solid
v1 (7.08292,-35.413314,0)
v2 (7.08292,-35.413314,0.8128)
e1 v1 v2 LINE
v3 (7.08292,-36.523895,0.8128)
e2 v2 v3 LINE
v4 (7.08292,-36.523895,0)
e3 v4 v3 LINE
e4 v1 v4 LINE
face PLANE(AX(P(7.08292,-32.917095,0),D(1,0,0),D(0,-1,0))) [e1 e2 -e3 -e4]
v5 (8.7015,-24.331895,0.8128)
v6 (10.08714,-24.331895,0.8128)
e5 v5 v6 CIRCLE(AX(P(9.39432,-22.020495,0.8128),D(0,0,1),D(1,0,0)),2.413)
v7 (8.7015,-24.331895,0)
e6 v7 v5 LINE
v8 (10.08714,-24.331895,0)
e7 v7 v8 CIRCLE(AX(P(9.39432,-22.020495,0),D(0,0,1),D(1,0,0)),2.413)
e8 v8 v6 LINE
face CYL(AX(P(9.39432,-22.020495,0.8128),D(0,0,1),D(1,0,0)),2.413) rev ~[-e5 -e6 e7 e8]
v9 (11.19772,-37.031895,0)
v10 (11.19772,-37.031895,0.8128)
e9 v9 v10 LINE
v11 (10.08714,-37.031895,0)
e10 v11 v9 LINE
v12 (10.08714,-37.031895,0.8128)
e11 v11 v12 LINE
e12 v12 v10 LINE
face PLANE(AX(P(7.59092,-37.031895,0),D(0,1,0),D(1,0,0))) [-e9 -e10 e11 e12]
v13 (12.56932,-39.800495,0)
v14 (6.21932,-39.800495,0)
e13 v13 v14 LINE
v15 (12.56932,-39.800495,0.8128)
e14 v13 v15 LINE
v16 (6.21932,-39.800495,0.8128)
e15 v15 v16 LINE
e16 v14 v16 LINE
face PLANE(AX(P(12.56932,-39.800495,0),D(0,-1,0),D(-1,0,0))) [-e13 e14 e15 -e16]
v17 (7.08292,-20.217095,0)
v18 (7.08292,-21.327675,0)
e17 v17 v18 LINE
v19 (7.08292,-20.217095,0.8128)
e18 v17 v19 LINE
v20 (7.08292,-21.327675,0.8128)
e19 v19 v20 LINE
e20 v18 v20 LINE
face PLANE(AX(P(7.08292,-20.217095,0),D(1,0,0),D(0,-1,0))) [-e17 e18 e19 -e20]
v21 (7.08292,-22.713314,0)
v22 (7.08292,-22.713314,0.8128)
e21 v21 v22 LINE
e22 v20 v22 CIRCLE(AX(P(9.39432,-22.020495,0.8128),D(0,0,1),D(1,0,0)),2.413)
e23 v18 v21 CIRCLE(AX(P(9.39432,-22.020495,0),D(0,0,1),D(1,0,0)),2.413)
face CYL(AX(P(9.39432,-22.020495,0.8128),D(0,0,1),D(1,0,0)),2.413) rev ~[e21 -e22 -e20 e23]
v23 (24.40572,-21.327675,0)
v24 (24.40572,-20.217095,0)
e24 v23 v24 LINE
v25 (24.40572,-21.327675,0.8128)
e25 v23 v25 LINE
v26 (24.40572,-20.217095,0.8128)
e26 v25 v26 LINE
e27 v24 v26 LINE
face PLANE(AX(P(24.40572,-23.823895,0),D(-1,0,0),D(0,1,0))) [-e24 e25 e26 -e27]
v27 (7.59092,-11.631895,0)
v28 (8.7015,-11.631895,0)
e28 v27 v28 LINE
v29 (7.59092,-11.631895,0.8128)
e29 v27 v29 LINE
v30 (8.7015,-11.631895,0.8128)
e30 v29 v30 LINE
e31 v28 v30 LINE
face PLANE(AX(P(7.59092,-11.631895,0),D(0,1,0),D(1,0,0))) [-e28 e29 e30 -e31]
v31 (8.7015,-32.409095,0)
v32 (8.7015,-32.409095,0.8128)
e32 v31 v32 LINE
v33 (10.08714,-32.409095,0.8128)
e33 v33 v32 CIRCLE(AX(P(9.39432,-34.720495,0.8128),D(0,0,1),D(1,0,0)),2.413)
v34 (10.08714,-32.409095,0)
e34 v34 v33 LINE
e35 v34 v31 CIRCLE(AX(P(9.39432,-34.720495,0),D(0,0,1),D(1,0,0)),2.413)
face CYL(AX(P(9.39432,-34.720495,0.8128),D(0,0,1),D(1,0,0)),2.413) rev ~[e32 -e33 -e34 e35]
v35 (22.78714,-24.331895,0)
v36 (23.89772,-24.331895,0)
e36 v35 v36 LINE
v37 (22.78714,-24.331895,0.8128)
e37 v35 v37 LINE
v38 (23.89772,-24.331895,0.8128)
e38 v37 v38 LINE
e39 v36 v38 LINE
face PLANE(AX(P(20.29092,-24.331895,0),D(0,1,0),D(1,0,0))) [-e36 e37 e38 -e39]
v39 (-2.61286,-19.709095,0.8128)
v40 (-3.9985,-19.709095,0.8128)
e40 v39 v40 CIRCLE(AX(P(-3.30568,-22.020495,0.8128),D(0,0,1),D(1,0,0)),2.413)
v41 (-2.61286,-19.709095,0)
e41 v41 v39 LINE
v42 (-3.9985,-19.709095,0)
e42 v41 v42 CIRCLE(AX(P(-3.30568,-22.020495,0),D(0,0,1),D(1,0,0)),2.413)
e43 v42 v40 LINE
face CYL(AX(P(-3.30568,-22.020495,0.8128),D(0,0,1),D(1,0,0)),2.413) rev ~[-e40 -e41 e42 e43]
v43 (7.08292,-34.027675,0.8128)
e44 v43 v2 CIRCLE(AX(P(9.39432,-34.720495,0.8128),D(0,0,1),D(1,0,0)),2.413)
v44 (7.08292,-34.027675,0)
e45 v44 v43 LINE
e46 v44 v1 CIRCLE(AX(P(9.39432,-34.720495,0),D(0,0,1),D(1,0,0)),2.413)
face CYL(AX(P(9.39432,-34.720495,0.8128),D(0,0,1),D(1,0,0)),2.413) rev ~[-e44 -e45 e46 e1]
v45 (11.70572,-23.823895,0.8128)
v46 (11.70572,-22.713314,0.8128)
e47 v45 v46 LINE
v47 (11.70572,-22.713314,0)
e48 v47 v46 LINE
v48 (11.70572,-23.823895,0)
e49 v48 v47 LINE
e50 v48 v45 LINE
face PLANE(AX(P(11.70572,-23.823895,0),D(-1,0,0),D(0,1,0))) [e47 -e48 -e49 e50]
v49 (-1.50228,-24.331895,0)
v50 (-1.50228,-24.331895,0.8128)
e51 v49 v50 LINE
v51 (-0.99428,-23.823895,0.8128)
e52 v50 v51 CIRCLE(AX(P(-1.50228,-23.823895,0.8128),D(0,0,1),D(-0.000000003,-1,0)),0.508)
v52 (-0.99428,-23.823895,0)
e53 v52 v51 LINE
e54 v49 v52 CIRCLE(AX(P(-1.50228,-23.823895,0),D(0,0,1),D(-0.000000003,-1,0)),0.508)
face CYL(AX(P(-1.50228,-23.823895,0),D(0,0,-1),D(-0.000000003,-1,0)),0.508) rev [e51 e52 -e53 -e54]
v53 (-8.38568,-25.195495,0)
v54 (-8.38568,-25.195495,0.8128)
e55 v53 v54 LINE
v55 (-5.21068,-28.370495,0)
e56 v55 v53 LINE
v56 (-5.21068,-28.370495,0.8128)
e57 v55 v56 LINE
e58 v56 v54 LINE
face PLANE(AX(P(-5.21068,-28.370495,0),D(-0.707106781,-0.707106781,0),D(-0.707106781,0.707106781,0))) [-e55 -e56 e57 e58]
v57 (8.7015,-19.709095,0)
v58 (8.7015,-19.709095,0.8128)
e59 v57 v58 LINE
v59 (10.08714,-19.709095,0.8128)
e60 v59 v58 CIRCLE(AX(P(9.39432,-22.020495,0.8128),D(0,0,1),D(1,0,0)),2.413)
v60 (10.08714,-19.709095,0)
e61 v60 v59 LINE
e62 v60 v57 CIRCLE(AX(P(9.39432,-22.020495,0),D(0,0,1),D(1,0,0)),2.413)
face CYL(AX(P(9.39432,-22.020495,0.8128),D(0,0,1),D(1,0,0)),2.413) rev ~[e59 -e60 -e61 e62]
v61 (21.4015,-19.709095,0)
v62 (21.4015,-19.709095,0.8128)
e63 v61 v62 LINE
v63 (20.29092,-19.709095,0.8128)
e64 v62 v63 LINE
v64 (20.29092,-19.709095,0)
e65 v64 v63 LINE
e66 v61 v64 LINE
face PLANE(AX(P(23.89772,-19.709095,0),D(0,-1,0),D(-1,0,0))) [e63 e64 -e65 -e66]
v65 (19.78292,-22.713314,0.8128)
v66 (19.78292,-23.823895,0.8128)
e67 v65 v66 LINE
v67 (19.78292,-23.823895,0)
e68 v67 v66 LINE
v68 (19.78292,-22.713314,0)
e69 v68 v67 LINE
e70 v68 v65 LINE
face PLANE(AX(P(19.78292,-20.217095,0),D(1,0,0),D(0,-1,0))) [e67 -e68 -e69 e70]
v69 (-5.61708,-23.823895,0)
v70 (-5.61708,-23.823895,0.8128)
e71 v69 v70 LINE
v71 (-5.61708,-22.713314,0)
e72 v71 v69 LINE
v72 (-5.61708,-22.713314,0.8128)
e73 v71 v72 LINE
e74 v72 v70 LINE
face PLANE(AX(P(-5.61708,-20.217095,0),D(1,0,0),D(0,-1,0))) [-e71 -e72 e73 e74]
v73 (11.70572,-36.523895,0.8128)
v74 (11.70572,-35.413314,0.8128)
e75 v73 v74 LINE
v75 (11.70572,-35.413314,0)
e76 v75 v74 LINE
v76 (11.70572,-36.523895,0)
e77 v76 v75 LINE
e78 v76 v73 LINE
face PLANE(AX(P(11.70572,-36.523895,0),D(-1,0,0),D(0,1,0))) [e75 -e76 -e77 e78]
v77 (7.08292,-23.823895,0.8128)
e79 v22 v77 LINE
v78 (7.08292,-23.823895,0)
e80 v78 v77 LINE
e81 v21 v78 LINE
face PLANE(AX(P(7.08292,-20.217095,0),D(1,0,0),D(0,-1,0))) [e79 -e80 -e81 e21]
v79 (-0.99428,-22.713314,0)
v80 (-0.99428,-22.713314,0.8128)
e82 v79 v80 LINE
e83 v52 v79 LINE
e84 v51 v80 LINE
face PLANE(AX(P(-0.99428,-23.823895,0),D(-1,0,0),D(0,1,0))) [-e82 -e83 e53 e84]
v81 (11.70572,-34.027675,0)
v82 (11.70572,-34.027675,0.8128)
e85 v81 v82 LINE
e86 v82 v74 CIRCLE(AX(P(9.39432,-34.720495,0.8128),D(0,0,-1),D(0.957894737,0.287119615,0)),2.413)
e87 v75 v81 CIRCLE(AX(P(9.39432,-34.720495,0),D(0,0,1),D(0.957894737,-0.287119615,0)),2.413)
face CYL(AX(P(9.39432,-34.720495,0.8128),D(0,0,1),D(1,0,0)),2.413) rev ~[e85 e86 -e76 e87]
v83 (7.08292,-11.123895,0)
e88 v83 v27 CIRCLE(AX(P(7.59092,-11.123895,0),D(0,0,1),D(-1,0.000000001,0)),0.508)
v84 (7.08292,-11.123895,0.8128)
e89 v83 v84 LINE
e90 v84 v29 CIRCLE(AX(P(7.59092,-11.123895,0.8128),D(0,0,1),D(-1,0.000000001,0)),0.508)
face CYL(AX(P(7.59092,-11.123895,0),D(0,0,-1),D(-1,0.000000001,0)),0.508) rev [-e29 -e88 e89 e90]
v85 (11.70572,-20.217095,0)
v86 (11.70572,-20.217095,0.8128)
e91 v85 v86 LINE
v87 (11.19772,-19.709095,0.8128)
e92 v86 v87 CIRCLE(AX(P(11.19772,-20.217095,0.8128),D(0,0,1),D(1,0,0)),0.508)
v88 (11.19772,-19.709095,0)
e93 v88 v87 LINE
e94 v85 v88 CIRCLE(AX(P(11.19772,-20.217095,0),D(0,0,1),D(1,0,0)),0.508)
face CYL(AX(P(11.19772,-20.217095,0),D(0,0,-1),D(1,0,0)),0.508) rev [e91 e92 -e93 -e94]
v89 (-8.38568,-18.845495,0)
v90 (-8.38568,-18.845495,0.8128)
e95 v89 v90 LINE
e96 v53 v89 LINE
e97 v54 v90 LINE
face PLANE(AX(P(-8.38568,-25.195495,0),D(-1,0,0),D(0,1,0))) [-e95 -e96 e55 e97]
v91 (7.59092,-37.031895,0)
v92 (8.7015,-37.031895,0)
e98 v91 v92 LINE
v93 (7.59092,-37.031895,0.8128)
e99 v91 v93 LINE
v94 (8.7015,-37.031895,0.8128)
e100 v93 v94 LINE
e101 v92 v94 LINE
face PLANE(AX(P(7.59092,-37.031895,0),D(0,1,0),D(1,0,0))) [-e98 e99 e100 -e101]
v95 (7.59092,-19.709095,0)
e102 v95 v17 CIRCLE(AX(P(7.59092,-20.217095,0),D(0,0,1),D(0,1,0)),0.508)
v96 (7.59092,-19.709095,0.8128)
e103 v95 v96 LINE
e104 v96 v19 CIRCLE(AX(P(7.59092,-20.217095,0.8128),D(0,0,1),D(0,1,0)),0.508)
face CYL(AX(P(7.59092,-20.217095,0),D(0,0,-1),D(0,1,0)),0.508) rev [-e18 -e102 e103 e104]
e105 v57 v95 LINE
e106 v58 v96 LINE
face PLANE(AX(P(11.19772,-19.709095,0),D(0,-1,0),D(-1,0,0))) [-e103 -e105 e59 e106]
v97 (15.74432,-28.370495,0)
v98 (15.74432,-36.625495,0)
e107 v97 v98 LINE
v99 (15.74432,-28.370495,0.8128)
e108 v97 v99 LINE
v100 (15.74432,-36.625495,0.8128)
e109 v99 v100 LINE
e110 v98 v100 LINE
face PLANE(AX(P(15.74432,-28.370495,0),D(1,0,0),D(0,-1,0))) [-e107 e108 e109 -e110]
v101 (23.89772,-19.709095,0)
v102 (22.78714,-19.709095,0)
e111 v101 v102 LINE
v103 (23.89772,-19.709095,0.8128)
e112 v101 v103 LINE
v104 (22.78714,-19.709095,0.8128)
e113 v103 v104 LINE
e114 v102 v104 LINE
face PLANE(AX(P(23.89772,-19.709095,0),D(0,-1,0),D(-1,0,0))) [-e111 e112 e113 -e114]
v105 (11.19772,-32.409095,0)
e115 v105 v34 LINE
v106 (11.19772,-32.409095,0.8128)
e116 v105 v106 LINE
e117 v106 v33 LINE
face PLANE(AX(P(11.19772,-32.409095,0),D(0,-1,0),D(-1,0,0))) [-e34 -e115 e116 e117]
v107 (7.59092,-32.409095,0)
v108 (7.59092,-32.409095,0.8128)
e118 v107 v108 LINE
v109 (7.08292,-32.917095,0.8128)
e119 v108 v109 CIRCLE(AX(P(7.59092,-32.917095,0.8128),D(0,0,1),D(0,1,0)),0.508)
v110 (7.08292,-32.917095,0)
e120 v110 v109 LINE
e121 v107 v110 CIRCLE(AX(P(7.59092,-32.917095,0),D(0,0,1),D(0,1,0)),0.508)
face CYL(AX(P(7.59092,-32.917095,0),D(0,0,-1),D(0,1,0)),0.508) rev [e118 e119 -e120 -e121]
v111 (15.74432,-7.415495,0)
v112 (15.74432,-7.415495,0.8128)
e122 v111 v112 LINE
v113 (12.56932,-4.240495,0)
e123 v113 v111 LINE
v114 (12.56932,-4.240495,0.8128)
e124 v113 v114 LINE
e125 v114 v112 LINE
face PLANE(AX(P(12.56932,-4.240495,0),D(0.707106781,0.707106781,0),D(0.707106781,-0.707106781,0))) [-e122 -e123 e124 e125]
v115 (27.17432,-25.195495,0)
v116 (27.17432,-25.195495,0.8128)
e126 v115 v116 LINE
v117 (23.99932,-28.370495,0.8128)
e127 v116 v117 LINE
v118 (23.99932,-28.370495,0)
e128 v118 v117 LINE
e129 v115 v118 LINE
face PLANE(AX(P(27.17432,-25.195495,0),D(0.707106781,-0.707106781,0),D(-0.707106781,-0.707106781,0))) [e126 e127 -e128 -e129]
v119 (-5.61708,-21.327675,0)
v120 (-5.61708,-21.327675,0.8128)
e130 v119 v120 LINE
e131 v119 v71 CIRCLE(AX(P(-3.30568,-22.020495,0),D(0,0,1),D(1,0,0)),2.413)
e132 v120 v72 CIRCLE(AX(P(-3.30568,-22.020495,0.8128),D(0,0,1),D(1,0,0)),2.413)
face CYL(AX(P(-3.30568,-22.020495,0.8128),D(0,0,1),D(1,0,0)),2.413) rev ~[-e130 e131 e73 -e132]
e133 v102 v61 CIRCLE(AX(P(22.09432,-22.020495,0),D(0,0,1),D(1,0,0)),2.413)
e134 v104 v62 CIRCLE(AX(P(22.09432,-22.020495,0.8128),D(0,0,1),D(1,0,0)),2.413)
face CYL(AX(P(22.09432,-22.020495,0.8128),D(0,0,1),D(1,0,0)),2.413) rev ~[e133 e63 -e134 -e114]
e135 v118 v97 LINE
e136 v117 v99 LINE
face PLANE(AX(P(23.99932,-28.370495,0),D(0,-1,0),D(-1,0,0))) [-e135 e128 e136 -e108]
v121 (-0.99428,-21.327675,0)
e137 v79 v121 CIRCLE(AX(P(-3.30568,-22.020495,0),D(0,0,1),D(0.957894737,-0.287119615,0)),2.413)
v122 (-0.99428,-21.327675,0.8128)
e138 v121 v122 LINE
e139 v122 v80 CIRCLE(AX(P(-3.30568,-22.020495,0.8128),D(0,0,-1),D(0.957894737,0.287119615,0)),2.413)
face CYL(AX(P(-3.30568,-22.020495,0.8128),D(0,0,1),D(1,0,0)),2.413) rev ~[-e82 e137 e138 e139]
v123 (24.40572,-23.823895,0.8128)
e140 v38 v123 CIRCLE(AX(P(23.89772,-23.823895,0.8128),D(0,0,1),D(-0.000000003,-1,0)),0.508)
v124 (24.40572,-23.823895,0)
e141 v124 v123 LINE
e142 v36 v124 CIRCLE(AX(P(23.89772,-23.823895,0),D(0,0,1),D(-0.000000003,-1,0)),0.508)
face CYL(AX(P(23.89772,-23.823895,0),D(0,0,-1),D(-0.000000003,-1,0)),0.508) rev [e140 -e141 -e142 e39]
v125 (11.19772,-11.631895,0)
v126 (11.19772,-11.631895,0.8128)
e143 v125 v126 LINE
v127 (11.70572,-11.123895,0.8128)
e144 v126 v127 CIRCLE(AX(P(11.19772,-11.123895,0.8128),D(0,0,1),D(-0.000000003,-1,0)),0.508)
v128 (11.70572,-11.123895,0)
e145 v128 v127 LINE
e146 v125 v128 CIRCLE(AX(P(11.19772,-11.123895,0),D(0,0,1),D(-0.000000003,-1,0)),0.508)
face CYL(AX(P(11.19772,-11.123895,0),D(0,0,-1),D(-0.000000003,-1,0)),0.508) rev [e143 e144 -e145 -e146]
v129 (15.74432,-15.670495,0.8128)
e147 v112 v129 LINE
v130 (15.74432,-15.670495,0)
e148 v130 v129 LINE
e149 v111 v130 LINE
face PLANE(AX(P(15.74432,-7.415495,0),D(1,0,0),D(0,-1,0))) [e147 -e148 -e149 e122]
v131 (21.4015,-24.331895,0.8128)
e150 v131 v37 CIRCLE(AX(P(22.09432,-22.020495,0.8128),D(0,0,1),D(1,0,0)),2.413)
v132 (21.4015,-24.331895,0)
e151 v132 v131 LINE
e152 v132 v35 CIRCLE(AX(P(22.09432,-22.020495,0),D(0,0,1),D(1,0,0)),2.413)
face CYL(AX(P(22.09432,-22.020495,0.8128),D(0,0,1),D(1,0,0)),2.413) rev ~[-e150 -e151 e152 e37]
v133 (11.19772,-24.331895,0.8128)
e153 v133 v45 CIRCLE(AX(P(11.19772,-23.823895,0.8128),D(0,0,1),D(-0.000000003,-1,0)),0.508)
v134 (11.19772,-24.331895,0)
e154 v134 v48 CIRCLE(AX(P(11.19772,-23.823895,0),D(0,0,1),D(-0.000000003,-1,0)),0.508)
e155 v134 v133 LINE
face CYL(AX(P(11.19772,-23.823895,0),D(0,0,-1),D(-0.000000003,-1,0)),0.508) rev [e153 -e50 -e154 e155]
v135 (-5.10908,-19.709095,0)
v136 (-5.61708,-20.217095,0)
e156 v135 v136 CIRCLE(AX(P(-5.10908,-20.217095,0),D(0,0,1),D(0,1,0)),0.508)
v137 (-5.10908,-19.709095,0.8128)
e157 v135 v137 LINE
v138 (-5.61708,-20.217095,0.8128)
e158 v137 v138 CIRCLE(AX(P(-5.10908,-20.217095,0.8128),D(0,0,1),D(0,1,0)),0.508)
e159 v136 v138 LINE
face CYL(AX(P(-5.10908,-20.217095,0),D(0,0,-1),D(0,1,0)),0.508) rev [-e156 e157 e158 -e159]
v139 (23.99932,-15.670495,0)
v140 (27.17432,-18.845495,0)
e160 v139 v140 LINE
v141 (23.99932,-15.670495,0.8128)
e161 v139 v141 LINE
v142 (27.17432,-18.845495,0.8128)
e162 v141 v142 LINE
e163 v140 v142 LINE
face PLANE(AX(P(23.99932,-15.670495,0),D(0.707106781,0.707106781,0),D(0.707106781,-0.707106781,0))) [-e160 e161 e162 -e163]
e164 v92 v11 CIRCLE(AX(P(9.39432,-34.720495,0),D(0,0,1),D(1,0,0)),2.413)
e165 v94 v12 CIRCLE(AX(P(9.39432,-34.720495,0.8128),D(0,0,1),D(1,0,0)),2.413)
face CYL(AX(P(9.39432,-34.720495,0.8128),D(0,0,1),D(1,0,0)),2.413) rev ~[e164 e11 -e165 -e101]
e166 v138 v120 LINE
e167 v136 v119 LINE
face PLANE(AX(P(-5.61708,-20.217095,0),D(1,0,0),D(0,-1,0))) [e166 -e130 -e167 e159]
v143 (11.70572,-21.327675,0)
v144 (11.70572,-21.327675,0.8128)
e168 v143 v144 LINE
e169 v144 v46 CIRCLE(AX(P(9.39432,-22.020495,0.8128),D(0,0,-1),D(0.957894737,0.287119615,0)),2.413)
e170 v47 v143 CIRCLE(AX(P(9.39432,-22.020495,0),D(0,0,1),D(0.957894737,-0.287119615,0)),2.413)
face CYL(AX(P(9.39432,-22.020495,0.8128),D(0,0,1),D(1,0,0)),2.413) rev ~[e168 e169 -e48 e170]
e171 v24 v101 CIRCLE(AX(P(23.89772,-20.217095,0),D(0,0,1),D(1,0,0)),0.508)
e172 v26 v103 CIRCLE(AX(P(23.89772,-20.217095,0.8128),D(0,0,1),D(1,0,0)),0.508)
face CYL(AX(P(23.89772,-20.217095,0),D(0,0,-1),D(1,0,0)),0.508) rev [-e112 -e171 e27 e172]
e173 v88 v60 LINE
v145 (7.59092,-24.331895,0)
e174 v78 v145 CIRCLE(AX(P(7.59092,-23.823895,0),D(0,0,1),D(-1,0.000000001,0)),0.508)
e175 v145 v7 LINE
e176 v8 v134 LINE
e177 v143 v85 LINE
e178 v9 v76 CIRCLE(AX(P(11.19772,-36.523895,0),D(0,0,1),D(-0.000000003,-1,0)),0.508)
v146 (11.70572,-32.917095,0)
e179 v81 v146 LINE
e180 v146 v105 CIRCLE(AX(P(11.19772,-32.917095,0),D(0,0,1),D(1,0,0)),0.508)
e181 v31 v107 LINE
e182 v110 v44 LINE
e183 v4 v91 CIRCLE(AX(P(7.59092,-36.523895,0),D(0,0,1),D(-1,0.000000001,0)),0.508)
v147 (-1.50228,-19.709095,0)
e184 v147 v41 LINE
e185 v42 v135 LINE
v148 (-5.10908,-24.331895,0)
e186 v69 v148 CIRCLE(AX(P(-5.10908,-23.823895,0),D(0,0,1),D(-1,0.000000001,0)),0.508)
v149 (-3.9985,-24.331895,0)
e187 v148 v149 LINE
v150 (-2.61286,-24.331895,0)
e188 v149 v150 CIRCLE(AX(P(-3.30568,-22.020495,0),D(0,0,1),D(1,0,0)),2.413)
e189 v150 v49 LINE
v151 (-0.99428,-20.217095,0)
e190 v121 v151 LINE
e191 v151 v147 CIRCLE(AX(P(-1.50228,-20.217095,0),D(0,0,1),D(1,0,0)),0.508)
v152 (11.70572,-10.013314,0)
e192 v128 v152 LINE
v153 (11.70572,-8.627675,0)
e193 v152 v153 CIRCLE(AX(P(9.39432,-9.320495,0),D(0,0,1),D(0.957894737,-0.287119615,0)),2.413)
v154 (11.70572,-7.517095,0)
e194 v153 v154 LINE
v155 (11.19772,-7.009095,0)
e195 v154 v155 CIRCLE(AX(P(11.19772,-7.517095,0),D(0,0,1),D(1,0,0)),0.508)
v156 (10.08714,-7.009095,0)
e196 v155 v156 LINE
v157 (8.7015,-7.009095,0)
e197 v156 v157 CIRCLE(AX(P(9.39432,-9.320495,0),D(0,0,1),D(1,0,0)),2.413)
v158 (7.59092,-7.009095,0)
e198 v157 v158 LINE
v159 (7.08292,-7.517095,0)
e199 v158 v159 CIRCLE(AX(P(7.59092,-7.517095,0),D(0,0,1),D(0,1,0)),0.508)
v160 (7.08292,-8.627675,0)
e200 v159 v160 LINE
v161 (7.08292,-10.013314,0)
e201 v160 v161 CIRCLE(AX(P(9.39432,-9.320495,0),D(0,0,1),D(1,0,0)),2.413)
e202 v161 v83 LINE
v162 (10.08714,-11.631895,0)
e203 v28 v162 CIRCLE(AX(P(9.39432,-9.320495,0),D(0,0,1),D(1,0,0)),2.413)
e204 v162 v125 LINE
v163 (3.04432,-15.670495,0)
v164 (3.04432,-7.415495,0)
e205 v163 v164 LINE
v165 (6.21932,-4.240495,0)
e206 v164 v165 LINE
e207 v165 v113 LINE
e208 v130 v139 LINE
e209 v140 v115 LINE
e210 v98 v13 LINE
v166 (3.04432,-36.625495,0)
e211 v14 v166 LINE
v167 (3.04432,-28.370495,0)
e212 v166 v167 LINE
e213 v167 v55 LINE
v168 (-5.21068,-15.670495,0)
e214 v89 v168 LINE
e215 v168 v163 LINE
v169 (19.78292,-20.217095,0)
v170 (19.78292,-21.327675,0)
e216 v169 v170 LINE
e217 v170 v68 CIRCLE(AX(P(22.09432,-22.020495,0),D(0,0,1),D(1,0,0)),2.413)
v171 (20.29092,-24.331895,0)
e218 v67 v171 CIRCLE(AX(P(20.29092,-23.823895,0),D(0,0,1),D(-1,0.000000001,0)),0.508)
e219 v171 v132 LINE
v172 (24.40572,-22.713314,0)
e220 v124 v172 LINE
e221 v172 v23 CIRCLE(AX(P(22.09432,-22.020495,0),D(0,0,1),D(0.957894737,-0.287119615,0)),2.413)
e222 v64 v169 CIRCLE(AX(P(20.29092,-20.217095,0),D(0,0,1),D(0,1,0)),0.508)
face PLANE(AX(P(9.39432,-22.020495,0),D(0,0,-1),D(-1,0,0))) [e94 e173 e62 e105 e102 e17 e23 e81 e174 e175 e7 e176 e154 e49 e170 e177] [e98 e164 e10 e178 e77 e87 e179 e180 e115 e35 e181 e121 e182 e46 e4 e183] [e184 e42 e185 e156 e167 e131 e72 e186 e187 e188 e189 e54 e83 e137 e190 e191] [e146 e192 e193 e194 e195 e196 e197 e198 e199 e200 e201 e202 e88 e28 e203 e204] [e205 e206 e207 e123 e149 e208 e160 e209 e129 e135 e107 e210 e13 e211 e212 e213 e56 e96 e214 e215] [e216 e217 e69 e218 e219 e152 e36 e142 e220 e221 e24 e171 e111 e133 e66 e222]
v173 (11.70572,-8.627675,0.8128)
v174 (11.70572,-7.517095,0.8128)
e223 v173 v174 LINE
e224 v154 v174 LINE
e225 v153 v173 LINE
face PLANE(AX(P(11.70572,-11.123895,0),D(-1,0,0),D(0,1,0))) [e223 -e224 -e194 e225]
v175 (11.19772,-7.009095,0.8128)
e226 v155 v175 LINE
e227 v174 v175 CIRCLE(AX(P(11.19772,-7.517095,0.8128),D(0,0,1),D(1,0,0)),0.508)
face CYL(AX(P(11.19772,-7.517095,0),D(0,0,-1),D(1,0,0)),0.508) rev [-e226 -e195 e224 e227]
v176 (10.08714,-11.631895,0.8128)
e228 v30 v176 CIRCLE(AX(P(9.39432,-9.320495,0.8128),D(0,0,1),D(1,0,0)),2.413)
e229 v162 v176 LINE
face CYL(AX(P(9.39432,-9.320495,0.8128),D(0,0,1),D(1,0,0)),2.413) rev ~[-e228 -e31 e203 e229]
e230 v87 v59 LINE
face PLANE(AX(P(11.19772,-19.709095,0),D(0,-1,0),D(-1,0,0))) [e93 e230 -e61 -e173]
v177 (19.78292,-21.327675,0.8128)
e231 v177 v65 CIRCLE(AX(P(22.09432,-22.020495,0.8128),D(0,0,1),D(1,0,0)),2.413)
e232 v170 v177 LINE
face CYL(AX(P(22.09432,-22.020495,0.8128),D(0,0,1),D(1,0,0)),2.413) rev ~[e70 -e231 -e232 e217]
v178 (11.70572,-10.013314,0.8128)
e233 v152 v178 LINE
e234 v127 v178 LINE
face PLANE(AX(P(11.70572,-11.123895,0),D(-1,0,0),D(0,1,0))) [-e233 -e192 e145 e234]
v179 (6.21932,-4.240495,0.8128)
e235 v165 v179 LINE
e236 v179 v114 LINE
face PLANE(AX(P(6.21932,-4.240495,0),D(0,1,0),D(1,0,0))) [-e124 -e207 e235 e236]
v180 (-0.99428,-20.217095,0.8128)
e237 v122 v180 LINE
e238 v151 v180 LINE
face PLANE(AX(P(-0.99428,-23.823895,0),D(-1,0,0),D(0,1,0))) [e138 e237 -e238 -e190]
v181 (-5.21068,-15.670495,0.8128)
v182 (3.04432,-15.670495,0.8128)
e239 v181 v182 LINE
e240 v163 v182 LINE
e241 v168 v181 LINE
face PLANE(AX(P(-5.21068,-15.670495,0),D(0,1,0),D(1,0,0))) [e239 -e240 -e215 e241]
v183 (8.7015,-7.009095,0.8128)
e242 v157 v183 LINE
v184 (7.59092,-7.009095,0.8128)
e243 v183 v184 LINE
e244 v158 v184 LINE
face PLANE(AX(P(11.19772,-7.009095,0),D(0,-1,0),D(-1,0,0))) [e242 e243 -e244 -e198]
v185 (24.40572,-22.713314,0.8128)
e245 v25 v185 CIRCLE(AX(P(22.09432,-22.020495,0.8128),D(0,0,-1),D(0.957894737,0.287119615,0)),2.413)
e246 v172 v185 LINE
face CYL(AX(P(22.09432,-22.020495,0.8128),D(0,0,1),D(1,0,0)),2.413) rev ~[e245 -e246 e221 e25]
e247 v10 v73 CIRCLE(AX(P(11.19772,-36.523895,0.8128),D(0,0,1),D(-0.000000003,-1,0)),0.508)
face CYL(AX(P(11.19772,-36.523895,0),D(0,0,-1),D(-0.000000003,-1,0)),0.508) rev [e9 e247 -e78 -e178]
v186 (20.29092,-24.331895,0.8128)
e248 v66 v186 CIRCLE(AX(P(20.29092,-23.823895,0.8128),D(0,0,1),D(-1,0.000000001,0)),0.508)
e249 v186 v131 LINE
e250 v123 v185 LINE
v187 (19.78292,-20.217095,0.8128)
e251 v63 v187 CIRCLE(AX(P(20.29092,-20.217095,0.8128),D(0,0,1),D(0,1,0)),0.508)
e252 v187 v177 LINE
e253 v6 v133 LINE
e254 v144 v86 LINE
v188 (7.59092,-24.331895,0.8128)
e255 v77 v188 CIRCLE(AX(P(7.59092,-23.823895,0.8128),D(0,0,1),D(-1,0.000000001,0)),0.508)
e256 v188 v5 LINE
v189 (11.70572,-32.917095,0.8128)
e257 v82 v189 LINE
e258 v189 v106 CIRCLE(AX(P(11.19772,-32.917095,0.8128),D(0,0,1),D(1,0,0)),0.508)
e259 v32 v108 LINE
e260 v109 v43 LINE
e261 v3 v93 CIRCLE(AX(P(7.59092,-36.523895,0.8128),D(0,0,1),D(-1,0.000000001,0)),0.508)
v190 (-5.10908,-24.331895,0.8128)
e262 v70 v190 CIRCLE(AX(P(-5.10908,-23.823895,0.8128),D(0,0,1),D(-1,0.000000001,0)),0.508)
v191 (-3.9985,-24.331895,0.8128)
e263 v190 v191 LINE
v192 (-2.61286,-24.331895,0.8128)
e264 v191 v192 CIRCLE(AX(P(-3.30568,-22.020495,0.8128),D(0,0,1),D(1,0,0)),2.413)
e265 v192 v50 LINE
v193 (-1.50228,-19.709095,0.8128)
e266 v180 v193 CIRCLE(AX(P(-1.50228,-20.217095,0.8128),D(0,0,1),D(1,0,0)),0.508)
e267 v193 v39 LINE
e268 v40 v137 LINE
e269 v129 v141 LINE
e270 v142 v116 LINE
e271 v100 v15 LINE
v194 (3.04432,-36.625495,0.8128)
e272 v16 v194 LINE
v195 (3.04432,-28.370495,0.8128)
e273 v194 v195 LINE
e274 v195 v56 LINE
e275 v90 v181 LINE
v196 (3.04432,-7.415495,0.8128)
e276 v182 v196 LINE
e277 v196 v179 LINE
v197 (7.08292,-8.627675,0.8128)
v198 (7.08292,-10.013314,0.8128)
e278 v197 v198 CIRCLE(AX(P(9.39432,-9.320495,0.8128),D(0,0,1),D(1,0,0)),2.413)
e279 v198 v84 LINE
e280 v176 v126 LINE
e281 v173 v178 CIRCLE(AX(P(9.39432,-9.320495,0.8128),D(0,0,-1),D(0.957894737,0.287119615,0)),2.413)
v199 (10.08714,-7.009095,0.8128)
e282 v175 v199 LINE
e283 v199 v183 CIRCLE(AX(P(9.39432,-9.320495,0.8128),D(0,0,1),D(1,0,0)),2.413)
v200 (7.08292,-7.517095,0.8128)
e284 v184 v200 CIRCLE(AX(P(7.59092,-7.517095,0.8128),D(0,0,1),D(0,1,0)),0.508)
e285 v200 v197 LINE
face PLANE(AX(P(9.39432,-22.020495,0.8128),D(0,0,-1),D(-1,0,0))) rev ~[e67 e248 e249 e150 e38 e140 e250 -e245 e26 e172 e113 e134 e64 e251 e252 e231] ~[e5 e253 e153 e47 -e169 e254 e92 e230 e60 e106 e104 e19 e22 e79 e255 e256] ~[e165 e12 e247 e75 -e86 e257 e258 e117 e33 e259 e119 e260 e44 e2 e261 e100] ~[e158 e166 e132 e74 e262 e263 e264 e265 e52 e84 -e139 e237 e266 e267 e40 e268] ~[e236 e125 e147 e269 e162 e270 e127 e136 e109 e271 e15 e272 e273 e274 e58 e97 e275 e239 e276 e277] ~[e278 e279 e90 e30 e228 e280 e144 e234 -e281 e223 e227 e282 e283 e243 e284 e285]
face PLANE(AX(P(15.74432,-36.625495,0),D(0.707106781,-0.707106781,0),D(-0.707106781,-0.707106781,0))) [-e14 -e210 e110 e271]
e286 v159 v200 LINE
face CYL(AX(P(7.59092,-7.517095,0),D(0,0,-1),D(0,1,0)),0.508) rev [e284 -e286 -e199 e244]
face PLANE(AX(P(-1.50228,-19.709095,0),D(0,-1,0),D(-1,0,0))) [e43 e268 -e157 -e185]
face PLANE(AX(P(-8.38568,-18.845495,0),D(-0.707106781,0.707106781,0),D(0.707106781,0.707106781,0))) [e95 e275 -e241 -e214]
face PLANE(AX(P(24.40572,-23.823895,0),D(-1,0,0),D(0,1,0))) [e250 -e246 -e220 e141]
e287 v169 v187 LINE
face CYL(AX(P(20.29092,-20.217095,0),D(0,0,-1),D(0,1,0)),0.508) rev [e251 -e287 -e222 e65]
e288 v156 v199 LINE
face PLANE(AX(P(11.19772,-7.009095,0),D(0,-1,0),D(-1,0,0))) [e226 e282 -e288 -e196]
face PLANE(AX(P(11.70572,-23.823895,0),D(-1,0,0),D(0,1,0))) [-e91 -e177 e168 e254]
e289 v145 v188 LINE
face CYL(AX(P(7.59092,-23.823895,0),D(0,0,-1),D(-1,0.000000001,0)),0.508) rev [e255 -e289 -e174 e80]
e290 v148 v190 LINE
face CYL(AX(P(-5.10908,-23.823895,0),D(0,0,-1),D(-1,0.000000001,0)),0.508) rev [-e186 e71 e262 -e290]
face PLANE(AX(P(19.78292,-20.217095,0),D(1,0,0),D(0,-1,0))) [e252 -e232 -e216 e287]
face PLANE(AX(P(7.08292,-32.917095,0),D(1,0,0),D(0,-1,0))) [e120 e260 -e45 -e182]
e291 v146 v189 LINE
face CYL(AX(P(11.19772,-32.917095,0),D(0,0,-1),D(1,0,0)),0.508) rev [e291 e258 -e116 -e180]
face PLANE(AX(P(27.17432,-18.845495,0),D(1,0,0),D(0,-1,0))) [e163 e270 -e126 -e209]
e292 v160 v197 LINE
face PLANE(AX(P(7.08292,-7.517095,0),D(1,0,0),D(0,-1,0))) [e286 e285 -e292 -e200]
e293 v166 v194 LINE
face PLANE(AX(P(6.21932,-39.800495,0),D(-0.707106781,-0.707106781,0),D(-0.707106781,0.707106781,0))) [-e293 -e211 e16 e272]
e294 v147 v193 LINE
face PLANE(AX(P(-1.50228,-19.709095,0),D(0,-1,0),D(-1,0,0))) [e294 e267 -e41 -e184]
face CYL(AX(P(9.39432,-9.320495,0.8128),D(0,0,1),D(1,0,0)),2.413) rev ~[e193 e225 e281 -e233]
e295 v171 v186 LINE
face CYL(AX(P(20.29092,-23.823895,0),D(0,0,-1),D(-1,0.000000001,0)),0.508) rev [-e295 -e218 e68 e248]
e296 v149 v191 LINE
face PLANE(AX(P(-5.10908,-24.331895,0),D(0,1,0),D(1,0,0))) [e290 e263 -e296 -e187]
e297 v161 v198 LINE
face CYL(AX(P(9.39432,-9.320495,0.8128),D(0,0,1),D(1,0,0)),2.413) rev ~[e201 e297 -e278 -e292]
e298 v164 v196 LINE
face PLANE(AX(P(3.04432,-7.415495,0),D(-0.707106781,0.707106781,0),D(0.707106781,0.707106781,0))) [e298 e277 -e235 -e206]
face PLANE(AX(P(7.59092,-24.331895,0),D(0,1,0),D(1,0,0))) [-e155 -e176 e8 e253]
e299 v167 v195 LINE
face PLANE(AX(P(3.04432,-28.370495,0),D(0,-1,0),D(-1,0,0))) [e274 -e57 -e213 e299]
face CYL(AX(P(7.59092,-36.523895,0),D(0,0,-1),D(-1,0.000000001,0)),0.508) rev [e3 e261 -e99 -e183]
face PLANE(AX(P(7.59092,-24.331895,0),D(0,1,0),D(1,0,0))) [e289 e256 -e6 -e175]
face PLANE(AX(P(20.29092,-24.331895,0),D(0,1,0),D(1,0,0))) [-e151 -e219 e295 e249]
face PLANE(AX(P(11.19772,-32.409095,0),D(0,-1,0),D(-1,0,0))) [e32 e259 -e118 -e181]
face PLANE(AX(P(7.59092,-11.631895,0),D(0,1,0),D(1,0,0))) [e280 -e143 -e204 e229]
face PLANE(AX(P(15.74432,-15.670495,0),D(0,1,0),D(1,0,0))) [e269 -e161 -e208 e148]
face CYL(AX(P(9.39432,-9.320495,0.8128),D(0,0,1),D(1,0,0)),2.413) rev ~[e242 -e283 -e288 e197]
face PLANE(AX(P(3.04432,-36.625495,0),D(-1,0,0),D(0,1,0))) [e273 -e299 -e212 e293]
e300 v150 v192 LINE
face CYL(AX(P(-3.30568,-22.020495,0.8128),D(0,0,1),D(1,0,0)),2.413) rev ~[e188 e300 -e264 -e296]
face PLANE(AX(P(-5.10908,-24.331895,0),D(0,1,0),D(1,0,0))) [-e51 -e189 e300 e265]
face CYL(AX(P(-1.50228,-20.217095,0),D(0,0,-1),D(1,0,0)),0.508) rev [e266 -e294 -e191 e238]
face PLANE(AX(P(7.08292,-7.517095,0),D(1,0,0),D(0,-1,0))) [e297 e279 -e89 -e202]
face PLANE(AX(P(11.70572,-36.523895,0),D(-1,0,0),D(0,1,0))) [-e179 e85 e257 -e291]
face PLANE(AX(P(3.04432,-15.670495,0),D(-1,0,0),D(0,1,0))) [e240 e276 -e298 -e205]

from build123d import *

# Parameters (mm, degrees)
BOSS_EXTRUDE1_DEPTH = 0.8128
SKETCH2_R           = 2.413
CUT_EXTRUDE1_DEPTH  = 2.54


with BuildPart() as part:
    # Sketch1 → Boss-Extrude1 (new body)
    with BuildSketch(Plane(origin=(0, 0, 0), x_dir=(-1, 0, 0), z_dir=(0, 0, -1))):
        Polygon((8.385680008, -18.845494556), (5.210680008, -15.670494556), (-3.044319992, -15.670494556), (-3.044319992, -7.415494556), (-6.219319992, -4.240494556), (-12.569319992, -4.240494556), (-15.744319992, -7.415494556), (-15.744319992, -15.670494556), (-23.999319992, -15.670494556), (-27.174319992, -18.845494556), (-27.174319992, -25.195494556), (-23.999319992, -28.370494556), (-15.744319992, -28.370494556), (-15.744319992, -36.625494556), (-12.569319992, -39.800494556), (-6.219319992, -39.800494556), (-3.044319992, -36.625494556), (-3.044319992, -28.370494556), (5.210680008, -28.370494556), (8.385680008, -25.195494556), align=None)
        with BuildLine():
            Line((5.109080019, -24.331894556), (1.502279997, -24.331894556))
            ThreePointArc((1.502279997, -24.331894556), (1.14306976, -24.183104805), (0.994280008, -23.823894568))
            Line((0.994280008, -23.823894568), (0.994280008, -20.217094545))
            ThreePointArc((0.994280008, -20.217094545), (1.14306976, -19.857884308), (1.502279997, -19.709094556))
            Line((1.502279997, -19.709094556), (5.109080019, -19.709094556))
            ThreePointArc((5.109080019, -19.709094556), (5.468290256, -19.857884308), (5.617080008, -20.217094545))
            Line((5.617080008, -20.217094545), (5.617080008, -23.823894568))
            ThreePointArc((5.617080008, -23.823894568), (5.468290256, -24.183104805), (5.109080019, -24.331894556))
        make_face(mode=Mode.SUBTRACT)
        with BuildLine():
            Line((-7.590919981, -24.331894556), (-11.197720003, -24.331894556))
            ThreePointArc((-11.197720003, -24.331894556), (-11.55693024, -24.183104805), (-11.705719992, -23.823894568))
            Line((-11.705719992, -23.823894568), (-11.705719992, -20.217094545))
            ThreePointArc((-11.705719992, -20.217094545), (-11.55693024, -19.857884308), (-11.197720003, -19.709094556))
            Line((-11.197720003, -19.709094556), (-7.590919981, -19.709094556))
            ThreePointArc((-7.590919981, -19.709094556), (-7.231709744, -19.857884308), (-7.082919992, -20.217094545))
            Line((-7.082919992, -20.217094545), (-7.082919992, -23.823894568))
            ThreePointArc((-7.082919992, -23.823894568), (-7.231709744, -24.183104805), (-7.590919981, -24.331894556))
        make_face(mode=Mode.SUBTRACT)
        with BuildLine():
            Line((-11.197720003, -7.009094556), (-7.590919981, -7.009094556))
            ThreePointArc((-7.590919981, -7.009094556), (-7.231709744, -7.157884308), (-7.082919992, -7.517094545))
            Line((-7.082919992, -7.517094545), (-7.082919992, -11.123894568))
            ThreePointArc((-7.082919992, -11.123894568), (-7.231709744, -11.483104805), (-7.590919981, -11.631894556))
            Line((-7.590919981, -11.631894556), (-11.197720003, -11.631894556))
            ThreePointArc((-11.197720003, -11.631894556), (-11.55693024, -11.483104805), (-11.705719992, -11.123894568))
            Line((-11.705719992, -11.123894568), (-11.705719992, -7.517094545))
            ThreePointArc((-11.705719992, -7.517094545), (-11.55693024, -7.157884308), (-11.197720003, -7.009094556))
        make_face(mode=Mode.SUBTRACT)
        with BuildLine():
            Line((-20.290919981, -24.331894556), (-23.897720003, -24.331894556))
            ThreePointArc((-23.897720003, -24.331894556), (-24.25693024, -24.183104805), (-24.405719992, -23.823894568))
            Line((-24.405719992, -23.823894568), (-24.405719992, -20.217094545))
            ThreePointArc((-24.405719992, -20.217094545), (-24.25693024, -19.857884308), (-23.897720003, -19.709094556))
            Line((-23.897720003, -19.709094556), (-20.290919981, -19.709094556))
            ThreePointArc((-20.290919981, -19.709094556), (-19.931709744, -19.857884308), (-19.782919992, -20.217094545))
            Line((-19.782919992, -20.217094545), (-19.782919992, -23.823894568))
            ThreePointArc((-19.782919992, -23.823894568), (-19.931709744, -24.183104805), (-20.290919981, -24.331894556))
        make_face(mode=Mode.SUBTRACT)
        with BuildLine():
            Line((-11.705719992, -36.523894568), (-11.705719992, -32.917094545))
            ThreePointArc((-11.705719992, -32.917094545), (-11.55693024, -32.557884308), (-11.197720003, -32.409094556))
            Line((-11.197720003, -32.409094556), (-7.590919981, -32.409094556))
            ThreePointArc((-7.590919981, -32.409094556), (-7.231709744, -32.557884308), (-7.082919992, -32.917094545))
            Line((-7.082919992, -32.917094545), (-7.082919992, -36.523894568))
            ThreePointArc((-7.082919992, -36.523894568), (-7.231709744, -36.883104805), (-7.590919981, -37.031894556))
            Line((-7.590919981, -37.031894556), (-11.197720003, -37.031894556))
            ThreePointArc((-11.197720003, -37.031894556), (-11.55693024, -36.883104805), (-11.705719992, -36.523894568))
        make_face(mode=Mode.SUBTRACT)
    extrude(amount=-BOSS_EXTRUDE1_DEPTH)

    # Sketch2 → Cut-Extrude1 (cut)
    with BuildSketch(Plane.XY.offset(0.8128)):
        with Locations((-3.305680008, -22.020494556)):
            Circle(SKETCH2_R)
        with Locations((9.394319992, -22.020494556)):
            Circle(SKETCH2_R)
        with Locations((9.394319992, -9.320494556)):
            Circle(SKETCH2_R)
        with Locations((22.094319992, -22.020494556)):
            Circle(SKETCH2_R)
        with Locations((9.394319992, -34.720494556)):
            Circle(SKETCH2_R)
    extrude(amount=-CUT_EXTRUDE1_DEPTH, mode=Mode.SUBTRACT)


solid = part.part
